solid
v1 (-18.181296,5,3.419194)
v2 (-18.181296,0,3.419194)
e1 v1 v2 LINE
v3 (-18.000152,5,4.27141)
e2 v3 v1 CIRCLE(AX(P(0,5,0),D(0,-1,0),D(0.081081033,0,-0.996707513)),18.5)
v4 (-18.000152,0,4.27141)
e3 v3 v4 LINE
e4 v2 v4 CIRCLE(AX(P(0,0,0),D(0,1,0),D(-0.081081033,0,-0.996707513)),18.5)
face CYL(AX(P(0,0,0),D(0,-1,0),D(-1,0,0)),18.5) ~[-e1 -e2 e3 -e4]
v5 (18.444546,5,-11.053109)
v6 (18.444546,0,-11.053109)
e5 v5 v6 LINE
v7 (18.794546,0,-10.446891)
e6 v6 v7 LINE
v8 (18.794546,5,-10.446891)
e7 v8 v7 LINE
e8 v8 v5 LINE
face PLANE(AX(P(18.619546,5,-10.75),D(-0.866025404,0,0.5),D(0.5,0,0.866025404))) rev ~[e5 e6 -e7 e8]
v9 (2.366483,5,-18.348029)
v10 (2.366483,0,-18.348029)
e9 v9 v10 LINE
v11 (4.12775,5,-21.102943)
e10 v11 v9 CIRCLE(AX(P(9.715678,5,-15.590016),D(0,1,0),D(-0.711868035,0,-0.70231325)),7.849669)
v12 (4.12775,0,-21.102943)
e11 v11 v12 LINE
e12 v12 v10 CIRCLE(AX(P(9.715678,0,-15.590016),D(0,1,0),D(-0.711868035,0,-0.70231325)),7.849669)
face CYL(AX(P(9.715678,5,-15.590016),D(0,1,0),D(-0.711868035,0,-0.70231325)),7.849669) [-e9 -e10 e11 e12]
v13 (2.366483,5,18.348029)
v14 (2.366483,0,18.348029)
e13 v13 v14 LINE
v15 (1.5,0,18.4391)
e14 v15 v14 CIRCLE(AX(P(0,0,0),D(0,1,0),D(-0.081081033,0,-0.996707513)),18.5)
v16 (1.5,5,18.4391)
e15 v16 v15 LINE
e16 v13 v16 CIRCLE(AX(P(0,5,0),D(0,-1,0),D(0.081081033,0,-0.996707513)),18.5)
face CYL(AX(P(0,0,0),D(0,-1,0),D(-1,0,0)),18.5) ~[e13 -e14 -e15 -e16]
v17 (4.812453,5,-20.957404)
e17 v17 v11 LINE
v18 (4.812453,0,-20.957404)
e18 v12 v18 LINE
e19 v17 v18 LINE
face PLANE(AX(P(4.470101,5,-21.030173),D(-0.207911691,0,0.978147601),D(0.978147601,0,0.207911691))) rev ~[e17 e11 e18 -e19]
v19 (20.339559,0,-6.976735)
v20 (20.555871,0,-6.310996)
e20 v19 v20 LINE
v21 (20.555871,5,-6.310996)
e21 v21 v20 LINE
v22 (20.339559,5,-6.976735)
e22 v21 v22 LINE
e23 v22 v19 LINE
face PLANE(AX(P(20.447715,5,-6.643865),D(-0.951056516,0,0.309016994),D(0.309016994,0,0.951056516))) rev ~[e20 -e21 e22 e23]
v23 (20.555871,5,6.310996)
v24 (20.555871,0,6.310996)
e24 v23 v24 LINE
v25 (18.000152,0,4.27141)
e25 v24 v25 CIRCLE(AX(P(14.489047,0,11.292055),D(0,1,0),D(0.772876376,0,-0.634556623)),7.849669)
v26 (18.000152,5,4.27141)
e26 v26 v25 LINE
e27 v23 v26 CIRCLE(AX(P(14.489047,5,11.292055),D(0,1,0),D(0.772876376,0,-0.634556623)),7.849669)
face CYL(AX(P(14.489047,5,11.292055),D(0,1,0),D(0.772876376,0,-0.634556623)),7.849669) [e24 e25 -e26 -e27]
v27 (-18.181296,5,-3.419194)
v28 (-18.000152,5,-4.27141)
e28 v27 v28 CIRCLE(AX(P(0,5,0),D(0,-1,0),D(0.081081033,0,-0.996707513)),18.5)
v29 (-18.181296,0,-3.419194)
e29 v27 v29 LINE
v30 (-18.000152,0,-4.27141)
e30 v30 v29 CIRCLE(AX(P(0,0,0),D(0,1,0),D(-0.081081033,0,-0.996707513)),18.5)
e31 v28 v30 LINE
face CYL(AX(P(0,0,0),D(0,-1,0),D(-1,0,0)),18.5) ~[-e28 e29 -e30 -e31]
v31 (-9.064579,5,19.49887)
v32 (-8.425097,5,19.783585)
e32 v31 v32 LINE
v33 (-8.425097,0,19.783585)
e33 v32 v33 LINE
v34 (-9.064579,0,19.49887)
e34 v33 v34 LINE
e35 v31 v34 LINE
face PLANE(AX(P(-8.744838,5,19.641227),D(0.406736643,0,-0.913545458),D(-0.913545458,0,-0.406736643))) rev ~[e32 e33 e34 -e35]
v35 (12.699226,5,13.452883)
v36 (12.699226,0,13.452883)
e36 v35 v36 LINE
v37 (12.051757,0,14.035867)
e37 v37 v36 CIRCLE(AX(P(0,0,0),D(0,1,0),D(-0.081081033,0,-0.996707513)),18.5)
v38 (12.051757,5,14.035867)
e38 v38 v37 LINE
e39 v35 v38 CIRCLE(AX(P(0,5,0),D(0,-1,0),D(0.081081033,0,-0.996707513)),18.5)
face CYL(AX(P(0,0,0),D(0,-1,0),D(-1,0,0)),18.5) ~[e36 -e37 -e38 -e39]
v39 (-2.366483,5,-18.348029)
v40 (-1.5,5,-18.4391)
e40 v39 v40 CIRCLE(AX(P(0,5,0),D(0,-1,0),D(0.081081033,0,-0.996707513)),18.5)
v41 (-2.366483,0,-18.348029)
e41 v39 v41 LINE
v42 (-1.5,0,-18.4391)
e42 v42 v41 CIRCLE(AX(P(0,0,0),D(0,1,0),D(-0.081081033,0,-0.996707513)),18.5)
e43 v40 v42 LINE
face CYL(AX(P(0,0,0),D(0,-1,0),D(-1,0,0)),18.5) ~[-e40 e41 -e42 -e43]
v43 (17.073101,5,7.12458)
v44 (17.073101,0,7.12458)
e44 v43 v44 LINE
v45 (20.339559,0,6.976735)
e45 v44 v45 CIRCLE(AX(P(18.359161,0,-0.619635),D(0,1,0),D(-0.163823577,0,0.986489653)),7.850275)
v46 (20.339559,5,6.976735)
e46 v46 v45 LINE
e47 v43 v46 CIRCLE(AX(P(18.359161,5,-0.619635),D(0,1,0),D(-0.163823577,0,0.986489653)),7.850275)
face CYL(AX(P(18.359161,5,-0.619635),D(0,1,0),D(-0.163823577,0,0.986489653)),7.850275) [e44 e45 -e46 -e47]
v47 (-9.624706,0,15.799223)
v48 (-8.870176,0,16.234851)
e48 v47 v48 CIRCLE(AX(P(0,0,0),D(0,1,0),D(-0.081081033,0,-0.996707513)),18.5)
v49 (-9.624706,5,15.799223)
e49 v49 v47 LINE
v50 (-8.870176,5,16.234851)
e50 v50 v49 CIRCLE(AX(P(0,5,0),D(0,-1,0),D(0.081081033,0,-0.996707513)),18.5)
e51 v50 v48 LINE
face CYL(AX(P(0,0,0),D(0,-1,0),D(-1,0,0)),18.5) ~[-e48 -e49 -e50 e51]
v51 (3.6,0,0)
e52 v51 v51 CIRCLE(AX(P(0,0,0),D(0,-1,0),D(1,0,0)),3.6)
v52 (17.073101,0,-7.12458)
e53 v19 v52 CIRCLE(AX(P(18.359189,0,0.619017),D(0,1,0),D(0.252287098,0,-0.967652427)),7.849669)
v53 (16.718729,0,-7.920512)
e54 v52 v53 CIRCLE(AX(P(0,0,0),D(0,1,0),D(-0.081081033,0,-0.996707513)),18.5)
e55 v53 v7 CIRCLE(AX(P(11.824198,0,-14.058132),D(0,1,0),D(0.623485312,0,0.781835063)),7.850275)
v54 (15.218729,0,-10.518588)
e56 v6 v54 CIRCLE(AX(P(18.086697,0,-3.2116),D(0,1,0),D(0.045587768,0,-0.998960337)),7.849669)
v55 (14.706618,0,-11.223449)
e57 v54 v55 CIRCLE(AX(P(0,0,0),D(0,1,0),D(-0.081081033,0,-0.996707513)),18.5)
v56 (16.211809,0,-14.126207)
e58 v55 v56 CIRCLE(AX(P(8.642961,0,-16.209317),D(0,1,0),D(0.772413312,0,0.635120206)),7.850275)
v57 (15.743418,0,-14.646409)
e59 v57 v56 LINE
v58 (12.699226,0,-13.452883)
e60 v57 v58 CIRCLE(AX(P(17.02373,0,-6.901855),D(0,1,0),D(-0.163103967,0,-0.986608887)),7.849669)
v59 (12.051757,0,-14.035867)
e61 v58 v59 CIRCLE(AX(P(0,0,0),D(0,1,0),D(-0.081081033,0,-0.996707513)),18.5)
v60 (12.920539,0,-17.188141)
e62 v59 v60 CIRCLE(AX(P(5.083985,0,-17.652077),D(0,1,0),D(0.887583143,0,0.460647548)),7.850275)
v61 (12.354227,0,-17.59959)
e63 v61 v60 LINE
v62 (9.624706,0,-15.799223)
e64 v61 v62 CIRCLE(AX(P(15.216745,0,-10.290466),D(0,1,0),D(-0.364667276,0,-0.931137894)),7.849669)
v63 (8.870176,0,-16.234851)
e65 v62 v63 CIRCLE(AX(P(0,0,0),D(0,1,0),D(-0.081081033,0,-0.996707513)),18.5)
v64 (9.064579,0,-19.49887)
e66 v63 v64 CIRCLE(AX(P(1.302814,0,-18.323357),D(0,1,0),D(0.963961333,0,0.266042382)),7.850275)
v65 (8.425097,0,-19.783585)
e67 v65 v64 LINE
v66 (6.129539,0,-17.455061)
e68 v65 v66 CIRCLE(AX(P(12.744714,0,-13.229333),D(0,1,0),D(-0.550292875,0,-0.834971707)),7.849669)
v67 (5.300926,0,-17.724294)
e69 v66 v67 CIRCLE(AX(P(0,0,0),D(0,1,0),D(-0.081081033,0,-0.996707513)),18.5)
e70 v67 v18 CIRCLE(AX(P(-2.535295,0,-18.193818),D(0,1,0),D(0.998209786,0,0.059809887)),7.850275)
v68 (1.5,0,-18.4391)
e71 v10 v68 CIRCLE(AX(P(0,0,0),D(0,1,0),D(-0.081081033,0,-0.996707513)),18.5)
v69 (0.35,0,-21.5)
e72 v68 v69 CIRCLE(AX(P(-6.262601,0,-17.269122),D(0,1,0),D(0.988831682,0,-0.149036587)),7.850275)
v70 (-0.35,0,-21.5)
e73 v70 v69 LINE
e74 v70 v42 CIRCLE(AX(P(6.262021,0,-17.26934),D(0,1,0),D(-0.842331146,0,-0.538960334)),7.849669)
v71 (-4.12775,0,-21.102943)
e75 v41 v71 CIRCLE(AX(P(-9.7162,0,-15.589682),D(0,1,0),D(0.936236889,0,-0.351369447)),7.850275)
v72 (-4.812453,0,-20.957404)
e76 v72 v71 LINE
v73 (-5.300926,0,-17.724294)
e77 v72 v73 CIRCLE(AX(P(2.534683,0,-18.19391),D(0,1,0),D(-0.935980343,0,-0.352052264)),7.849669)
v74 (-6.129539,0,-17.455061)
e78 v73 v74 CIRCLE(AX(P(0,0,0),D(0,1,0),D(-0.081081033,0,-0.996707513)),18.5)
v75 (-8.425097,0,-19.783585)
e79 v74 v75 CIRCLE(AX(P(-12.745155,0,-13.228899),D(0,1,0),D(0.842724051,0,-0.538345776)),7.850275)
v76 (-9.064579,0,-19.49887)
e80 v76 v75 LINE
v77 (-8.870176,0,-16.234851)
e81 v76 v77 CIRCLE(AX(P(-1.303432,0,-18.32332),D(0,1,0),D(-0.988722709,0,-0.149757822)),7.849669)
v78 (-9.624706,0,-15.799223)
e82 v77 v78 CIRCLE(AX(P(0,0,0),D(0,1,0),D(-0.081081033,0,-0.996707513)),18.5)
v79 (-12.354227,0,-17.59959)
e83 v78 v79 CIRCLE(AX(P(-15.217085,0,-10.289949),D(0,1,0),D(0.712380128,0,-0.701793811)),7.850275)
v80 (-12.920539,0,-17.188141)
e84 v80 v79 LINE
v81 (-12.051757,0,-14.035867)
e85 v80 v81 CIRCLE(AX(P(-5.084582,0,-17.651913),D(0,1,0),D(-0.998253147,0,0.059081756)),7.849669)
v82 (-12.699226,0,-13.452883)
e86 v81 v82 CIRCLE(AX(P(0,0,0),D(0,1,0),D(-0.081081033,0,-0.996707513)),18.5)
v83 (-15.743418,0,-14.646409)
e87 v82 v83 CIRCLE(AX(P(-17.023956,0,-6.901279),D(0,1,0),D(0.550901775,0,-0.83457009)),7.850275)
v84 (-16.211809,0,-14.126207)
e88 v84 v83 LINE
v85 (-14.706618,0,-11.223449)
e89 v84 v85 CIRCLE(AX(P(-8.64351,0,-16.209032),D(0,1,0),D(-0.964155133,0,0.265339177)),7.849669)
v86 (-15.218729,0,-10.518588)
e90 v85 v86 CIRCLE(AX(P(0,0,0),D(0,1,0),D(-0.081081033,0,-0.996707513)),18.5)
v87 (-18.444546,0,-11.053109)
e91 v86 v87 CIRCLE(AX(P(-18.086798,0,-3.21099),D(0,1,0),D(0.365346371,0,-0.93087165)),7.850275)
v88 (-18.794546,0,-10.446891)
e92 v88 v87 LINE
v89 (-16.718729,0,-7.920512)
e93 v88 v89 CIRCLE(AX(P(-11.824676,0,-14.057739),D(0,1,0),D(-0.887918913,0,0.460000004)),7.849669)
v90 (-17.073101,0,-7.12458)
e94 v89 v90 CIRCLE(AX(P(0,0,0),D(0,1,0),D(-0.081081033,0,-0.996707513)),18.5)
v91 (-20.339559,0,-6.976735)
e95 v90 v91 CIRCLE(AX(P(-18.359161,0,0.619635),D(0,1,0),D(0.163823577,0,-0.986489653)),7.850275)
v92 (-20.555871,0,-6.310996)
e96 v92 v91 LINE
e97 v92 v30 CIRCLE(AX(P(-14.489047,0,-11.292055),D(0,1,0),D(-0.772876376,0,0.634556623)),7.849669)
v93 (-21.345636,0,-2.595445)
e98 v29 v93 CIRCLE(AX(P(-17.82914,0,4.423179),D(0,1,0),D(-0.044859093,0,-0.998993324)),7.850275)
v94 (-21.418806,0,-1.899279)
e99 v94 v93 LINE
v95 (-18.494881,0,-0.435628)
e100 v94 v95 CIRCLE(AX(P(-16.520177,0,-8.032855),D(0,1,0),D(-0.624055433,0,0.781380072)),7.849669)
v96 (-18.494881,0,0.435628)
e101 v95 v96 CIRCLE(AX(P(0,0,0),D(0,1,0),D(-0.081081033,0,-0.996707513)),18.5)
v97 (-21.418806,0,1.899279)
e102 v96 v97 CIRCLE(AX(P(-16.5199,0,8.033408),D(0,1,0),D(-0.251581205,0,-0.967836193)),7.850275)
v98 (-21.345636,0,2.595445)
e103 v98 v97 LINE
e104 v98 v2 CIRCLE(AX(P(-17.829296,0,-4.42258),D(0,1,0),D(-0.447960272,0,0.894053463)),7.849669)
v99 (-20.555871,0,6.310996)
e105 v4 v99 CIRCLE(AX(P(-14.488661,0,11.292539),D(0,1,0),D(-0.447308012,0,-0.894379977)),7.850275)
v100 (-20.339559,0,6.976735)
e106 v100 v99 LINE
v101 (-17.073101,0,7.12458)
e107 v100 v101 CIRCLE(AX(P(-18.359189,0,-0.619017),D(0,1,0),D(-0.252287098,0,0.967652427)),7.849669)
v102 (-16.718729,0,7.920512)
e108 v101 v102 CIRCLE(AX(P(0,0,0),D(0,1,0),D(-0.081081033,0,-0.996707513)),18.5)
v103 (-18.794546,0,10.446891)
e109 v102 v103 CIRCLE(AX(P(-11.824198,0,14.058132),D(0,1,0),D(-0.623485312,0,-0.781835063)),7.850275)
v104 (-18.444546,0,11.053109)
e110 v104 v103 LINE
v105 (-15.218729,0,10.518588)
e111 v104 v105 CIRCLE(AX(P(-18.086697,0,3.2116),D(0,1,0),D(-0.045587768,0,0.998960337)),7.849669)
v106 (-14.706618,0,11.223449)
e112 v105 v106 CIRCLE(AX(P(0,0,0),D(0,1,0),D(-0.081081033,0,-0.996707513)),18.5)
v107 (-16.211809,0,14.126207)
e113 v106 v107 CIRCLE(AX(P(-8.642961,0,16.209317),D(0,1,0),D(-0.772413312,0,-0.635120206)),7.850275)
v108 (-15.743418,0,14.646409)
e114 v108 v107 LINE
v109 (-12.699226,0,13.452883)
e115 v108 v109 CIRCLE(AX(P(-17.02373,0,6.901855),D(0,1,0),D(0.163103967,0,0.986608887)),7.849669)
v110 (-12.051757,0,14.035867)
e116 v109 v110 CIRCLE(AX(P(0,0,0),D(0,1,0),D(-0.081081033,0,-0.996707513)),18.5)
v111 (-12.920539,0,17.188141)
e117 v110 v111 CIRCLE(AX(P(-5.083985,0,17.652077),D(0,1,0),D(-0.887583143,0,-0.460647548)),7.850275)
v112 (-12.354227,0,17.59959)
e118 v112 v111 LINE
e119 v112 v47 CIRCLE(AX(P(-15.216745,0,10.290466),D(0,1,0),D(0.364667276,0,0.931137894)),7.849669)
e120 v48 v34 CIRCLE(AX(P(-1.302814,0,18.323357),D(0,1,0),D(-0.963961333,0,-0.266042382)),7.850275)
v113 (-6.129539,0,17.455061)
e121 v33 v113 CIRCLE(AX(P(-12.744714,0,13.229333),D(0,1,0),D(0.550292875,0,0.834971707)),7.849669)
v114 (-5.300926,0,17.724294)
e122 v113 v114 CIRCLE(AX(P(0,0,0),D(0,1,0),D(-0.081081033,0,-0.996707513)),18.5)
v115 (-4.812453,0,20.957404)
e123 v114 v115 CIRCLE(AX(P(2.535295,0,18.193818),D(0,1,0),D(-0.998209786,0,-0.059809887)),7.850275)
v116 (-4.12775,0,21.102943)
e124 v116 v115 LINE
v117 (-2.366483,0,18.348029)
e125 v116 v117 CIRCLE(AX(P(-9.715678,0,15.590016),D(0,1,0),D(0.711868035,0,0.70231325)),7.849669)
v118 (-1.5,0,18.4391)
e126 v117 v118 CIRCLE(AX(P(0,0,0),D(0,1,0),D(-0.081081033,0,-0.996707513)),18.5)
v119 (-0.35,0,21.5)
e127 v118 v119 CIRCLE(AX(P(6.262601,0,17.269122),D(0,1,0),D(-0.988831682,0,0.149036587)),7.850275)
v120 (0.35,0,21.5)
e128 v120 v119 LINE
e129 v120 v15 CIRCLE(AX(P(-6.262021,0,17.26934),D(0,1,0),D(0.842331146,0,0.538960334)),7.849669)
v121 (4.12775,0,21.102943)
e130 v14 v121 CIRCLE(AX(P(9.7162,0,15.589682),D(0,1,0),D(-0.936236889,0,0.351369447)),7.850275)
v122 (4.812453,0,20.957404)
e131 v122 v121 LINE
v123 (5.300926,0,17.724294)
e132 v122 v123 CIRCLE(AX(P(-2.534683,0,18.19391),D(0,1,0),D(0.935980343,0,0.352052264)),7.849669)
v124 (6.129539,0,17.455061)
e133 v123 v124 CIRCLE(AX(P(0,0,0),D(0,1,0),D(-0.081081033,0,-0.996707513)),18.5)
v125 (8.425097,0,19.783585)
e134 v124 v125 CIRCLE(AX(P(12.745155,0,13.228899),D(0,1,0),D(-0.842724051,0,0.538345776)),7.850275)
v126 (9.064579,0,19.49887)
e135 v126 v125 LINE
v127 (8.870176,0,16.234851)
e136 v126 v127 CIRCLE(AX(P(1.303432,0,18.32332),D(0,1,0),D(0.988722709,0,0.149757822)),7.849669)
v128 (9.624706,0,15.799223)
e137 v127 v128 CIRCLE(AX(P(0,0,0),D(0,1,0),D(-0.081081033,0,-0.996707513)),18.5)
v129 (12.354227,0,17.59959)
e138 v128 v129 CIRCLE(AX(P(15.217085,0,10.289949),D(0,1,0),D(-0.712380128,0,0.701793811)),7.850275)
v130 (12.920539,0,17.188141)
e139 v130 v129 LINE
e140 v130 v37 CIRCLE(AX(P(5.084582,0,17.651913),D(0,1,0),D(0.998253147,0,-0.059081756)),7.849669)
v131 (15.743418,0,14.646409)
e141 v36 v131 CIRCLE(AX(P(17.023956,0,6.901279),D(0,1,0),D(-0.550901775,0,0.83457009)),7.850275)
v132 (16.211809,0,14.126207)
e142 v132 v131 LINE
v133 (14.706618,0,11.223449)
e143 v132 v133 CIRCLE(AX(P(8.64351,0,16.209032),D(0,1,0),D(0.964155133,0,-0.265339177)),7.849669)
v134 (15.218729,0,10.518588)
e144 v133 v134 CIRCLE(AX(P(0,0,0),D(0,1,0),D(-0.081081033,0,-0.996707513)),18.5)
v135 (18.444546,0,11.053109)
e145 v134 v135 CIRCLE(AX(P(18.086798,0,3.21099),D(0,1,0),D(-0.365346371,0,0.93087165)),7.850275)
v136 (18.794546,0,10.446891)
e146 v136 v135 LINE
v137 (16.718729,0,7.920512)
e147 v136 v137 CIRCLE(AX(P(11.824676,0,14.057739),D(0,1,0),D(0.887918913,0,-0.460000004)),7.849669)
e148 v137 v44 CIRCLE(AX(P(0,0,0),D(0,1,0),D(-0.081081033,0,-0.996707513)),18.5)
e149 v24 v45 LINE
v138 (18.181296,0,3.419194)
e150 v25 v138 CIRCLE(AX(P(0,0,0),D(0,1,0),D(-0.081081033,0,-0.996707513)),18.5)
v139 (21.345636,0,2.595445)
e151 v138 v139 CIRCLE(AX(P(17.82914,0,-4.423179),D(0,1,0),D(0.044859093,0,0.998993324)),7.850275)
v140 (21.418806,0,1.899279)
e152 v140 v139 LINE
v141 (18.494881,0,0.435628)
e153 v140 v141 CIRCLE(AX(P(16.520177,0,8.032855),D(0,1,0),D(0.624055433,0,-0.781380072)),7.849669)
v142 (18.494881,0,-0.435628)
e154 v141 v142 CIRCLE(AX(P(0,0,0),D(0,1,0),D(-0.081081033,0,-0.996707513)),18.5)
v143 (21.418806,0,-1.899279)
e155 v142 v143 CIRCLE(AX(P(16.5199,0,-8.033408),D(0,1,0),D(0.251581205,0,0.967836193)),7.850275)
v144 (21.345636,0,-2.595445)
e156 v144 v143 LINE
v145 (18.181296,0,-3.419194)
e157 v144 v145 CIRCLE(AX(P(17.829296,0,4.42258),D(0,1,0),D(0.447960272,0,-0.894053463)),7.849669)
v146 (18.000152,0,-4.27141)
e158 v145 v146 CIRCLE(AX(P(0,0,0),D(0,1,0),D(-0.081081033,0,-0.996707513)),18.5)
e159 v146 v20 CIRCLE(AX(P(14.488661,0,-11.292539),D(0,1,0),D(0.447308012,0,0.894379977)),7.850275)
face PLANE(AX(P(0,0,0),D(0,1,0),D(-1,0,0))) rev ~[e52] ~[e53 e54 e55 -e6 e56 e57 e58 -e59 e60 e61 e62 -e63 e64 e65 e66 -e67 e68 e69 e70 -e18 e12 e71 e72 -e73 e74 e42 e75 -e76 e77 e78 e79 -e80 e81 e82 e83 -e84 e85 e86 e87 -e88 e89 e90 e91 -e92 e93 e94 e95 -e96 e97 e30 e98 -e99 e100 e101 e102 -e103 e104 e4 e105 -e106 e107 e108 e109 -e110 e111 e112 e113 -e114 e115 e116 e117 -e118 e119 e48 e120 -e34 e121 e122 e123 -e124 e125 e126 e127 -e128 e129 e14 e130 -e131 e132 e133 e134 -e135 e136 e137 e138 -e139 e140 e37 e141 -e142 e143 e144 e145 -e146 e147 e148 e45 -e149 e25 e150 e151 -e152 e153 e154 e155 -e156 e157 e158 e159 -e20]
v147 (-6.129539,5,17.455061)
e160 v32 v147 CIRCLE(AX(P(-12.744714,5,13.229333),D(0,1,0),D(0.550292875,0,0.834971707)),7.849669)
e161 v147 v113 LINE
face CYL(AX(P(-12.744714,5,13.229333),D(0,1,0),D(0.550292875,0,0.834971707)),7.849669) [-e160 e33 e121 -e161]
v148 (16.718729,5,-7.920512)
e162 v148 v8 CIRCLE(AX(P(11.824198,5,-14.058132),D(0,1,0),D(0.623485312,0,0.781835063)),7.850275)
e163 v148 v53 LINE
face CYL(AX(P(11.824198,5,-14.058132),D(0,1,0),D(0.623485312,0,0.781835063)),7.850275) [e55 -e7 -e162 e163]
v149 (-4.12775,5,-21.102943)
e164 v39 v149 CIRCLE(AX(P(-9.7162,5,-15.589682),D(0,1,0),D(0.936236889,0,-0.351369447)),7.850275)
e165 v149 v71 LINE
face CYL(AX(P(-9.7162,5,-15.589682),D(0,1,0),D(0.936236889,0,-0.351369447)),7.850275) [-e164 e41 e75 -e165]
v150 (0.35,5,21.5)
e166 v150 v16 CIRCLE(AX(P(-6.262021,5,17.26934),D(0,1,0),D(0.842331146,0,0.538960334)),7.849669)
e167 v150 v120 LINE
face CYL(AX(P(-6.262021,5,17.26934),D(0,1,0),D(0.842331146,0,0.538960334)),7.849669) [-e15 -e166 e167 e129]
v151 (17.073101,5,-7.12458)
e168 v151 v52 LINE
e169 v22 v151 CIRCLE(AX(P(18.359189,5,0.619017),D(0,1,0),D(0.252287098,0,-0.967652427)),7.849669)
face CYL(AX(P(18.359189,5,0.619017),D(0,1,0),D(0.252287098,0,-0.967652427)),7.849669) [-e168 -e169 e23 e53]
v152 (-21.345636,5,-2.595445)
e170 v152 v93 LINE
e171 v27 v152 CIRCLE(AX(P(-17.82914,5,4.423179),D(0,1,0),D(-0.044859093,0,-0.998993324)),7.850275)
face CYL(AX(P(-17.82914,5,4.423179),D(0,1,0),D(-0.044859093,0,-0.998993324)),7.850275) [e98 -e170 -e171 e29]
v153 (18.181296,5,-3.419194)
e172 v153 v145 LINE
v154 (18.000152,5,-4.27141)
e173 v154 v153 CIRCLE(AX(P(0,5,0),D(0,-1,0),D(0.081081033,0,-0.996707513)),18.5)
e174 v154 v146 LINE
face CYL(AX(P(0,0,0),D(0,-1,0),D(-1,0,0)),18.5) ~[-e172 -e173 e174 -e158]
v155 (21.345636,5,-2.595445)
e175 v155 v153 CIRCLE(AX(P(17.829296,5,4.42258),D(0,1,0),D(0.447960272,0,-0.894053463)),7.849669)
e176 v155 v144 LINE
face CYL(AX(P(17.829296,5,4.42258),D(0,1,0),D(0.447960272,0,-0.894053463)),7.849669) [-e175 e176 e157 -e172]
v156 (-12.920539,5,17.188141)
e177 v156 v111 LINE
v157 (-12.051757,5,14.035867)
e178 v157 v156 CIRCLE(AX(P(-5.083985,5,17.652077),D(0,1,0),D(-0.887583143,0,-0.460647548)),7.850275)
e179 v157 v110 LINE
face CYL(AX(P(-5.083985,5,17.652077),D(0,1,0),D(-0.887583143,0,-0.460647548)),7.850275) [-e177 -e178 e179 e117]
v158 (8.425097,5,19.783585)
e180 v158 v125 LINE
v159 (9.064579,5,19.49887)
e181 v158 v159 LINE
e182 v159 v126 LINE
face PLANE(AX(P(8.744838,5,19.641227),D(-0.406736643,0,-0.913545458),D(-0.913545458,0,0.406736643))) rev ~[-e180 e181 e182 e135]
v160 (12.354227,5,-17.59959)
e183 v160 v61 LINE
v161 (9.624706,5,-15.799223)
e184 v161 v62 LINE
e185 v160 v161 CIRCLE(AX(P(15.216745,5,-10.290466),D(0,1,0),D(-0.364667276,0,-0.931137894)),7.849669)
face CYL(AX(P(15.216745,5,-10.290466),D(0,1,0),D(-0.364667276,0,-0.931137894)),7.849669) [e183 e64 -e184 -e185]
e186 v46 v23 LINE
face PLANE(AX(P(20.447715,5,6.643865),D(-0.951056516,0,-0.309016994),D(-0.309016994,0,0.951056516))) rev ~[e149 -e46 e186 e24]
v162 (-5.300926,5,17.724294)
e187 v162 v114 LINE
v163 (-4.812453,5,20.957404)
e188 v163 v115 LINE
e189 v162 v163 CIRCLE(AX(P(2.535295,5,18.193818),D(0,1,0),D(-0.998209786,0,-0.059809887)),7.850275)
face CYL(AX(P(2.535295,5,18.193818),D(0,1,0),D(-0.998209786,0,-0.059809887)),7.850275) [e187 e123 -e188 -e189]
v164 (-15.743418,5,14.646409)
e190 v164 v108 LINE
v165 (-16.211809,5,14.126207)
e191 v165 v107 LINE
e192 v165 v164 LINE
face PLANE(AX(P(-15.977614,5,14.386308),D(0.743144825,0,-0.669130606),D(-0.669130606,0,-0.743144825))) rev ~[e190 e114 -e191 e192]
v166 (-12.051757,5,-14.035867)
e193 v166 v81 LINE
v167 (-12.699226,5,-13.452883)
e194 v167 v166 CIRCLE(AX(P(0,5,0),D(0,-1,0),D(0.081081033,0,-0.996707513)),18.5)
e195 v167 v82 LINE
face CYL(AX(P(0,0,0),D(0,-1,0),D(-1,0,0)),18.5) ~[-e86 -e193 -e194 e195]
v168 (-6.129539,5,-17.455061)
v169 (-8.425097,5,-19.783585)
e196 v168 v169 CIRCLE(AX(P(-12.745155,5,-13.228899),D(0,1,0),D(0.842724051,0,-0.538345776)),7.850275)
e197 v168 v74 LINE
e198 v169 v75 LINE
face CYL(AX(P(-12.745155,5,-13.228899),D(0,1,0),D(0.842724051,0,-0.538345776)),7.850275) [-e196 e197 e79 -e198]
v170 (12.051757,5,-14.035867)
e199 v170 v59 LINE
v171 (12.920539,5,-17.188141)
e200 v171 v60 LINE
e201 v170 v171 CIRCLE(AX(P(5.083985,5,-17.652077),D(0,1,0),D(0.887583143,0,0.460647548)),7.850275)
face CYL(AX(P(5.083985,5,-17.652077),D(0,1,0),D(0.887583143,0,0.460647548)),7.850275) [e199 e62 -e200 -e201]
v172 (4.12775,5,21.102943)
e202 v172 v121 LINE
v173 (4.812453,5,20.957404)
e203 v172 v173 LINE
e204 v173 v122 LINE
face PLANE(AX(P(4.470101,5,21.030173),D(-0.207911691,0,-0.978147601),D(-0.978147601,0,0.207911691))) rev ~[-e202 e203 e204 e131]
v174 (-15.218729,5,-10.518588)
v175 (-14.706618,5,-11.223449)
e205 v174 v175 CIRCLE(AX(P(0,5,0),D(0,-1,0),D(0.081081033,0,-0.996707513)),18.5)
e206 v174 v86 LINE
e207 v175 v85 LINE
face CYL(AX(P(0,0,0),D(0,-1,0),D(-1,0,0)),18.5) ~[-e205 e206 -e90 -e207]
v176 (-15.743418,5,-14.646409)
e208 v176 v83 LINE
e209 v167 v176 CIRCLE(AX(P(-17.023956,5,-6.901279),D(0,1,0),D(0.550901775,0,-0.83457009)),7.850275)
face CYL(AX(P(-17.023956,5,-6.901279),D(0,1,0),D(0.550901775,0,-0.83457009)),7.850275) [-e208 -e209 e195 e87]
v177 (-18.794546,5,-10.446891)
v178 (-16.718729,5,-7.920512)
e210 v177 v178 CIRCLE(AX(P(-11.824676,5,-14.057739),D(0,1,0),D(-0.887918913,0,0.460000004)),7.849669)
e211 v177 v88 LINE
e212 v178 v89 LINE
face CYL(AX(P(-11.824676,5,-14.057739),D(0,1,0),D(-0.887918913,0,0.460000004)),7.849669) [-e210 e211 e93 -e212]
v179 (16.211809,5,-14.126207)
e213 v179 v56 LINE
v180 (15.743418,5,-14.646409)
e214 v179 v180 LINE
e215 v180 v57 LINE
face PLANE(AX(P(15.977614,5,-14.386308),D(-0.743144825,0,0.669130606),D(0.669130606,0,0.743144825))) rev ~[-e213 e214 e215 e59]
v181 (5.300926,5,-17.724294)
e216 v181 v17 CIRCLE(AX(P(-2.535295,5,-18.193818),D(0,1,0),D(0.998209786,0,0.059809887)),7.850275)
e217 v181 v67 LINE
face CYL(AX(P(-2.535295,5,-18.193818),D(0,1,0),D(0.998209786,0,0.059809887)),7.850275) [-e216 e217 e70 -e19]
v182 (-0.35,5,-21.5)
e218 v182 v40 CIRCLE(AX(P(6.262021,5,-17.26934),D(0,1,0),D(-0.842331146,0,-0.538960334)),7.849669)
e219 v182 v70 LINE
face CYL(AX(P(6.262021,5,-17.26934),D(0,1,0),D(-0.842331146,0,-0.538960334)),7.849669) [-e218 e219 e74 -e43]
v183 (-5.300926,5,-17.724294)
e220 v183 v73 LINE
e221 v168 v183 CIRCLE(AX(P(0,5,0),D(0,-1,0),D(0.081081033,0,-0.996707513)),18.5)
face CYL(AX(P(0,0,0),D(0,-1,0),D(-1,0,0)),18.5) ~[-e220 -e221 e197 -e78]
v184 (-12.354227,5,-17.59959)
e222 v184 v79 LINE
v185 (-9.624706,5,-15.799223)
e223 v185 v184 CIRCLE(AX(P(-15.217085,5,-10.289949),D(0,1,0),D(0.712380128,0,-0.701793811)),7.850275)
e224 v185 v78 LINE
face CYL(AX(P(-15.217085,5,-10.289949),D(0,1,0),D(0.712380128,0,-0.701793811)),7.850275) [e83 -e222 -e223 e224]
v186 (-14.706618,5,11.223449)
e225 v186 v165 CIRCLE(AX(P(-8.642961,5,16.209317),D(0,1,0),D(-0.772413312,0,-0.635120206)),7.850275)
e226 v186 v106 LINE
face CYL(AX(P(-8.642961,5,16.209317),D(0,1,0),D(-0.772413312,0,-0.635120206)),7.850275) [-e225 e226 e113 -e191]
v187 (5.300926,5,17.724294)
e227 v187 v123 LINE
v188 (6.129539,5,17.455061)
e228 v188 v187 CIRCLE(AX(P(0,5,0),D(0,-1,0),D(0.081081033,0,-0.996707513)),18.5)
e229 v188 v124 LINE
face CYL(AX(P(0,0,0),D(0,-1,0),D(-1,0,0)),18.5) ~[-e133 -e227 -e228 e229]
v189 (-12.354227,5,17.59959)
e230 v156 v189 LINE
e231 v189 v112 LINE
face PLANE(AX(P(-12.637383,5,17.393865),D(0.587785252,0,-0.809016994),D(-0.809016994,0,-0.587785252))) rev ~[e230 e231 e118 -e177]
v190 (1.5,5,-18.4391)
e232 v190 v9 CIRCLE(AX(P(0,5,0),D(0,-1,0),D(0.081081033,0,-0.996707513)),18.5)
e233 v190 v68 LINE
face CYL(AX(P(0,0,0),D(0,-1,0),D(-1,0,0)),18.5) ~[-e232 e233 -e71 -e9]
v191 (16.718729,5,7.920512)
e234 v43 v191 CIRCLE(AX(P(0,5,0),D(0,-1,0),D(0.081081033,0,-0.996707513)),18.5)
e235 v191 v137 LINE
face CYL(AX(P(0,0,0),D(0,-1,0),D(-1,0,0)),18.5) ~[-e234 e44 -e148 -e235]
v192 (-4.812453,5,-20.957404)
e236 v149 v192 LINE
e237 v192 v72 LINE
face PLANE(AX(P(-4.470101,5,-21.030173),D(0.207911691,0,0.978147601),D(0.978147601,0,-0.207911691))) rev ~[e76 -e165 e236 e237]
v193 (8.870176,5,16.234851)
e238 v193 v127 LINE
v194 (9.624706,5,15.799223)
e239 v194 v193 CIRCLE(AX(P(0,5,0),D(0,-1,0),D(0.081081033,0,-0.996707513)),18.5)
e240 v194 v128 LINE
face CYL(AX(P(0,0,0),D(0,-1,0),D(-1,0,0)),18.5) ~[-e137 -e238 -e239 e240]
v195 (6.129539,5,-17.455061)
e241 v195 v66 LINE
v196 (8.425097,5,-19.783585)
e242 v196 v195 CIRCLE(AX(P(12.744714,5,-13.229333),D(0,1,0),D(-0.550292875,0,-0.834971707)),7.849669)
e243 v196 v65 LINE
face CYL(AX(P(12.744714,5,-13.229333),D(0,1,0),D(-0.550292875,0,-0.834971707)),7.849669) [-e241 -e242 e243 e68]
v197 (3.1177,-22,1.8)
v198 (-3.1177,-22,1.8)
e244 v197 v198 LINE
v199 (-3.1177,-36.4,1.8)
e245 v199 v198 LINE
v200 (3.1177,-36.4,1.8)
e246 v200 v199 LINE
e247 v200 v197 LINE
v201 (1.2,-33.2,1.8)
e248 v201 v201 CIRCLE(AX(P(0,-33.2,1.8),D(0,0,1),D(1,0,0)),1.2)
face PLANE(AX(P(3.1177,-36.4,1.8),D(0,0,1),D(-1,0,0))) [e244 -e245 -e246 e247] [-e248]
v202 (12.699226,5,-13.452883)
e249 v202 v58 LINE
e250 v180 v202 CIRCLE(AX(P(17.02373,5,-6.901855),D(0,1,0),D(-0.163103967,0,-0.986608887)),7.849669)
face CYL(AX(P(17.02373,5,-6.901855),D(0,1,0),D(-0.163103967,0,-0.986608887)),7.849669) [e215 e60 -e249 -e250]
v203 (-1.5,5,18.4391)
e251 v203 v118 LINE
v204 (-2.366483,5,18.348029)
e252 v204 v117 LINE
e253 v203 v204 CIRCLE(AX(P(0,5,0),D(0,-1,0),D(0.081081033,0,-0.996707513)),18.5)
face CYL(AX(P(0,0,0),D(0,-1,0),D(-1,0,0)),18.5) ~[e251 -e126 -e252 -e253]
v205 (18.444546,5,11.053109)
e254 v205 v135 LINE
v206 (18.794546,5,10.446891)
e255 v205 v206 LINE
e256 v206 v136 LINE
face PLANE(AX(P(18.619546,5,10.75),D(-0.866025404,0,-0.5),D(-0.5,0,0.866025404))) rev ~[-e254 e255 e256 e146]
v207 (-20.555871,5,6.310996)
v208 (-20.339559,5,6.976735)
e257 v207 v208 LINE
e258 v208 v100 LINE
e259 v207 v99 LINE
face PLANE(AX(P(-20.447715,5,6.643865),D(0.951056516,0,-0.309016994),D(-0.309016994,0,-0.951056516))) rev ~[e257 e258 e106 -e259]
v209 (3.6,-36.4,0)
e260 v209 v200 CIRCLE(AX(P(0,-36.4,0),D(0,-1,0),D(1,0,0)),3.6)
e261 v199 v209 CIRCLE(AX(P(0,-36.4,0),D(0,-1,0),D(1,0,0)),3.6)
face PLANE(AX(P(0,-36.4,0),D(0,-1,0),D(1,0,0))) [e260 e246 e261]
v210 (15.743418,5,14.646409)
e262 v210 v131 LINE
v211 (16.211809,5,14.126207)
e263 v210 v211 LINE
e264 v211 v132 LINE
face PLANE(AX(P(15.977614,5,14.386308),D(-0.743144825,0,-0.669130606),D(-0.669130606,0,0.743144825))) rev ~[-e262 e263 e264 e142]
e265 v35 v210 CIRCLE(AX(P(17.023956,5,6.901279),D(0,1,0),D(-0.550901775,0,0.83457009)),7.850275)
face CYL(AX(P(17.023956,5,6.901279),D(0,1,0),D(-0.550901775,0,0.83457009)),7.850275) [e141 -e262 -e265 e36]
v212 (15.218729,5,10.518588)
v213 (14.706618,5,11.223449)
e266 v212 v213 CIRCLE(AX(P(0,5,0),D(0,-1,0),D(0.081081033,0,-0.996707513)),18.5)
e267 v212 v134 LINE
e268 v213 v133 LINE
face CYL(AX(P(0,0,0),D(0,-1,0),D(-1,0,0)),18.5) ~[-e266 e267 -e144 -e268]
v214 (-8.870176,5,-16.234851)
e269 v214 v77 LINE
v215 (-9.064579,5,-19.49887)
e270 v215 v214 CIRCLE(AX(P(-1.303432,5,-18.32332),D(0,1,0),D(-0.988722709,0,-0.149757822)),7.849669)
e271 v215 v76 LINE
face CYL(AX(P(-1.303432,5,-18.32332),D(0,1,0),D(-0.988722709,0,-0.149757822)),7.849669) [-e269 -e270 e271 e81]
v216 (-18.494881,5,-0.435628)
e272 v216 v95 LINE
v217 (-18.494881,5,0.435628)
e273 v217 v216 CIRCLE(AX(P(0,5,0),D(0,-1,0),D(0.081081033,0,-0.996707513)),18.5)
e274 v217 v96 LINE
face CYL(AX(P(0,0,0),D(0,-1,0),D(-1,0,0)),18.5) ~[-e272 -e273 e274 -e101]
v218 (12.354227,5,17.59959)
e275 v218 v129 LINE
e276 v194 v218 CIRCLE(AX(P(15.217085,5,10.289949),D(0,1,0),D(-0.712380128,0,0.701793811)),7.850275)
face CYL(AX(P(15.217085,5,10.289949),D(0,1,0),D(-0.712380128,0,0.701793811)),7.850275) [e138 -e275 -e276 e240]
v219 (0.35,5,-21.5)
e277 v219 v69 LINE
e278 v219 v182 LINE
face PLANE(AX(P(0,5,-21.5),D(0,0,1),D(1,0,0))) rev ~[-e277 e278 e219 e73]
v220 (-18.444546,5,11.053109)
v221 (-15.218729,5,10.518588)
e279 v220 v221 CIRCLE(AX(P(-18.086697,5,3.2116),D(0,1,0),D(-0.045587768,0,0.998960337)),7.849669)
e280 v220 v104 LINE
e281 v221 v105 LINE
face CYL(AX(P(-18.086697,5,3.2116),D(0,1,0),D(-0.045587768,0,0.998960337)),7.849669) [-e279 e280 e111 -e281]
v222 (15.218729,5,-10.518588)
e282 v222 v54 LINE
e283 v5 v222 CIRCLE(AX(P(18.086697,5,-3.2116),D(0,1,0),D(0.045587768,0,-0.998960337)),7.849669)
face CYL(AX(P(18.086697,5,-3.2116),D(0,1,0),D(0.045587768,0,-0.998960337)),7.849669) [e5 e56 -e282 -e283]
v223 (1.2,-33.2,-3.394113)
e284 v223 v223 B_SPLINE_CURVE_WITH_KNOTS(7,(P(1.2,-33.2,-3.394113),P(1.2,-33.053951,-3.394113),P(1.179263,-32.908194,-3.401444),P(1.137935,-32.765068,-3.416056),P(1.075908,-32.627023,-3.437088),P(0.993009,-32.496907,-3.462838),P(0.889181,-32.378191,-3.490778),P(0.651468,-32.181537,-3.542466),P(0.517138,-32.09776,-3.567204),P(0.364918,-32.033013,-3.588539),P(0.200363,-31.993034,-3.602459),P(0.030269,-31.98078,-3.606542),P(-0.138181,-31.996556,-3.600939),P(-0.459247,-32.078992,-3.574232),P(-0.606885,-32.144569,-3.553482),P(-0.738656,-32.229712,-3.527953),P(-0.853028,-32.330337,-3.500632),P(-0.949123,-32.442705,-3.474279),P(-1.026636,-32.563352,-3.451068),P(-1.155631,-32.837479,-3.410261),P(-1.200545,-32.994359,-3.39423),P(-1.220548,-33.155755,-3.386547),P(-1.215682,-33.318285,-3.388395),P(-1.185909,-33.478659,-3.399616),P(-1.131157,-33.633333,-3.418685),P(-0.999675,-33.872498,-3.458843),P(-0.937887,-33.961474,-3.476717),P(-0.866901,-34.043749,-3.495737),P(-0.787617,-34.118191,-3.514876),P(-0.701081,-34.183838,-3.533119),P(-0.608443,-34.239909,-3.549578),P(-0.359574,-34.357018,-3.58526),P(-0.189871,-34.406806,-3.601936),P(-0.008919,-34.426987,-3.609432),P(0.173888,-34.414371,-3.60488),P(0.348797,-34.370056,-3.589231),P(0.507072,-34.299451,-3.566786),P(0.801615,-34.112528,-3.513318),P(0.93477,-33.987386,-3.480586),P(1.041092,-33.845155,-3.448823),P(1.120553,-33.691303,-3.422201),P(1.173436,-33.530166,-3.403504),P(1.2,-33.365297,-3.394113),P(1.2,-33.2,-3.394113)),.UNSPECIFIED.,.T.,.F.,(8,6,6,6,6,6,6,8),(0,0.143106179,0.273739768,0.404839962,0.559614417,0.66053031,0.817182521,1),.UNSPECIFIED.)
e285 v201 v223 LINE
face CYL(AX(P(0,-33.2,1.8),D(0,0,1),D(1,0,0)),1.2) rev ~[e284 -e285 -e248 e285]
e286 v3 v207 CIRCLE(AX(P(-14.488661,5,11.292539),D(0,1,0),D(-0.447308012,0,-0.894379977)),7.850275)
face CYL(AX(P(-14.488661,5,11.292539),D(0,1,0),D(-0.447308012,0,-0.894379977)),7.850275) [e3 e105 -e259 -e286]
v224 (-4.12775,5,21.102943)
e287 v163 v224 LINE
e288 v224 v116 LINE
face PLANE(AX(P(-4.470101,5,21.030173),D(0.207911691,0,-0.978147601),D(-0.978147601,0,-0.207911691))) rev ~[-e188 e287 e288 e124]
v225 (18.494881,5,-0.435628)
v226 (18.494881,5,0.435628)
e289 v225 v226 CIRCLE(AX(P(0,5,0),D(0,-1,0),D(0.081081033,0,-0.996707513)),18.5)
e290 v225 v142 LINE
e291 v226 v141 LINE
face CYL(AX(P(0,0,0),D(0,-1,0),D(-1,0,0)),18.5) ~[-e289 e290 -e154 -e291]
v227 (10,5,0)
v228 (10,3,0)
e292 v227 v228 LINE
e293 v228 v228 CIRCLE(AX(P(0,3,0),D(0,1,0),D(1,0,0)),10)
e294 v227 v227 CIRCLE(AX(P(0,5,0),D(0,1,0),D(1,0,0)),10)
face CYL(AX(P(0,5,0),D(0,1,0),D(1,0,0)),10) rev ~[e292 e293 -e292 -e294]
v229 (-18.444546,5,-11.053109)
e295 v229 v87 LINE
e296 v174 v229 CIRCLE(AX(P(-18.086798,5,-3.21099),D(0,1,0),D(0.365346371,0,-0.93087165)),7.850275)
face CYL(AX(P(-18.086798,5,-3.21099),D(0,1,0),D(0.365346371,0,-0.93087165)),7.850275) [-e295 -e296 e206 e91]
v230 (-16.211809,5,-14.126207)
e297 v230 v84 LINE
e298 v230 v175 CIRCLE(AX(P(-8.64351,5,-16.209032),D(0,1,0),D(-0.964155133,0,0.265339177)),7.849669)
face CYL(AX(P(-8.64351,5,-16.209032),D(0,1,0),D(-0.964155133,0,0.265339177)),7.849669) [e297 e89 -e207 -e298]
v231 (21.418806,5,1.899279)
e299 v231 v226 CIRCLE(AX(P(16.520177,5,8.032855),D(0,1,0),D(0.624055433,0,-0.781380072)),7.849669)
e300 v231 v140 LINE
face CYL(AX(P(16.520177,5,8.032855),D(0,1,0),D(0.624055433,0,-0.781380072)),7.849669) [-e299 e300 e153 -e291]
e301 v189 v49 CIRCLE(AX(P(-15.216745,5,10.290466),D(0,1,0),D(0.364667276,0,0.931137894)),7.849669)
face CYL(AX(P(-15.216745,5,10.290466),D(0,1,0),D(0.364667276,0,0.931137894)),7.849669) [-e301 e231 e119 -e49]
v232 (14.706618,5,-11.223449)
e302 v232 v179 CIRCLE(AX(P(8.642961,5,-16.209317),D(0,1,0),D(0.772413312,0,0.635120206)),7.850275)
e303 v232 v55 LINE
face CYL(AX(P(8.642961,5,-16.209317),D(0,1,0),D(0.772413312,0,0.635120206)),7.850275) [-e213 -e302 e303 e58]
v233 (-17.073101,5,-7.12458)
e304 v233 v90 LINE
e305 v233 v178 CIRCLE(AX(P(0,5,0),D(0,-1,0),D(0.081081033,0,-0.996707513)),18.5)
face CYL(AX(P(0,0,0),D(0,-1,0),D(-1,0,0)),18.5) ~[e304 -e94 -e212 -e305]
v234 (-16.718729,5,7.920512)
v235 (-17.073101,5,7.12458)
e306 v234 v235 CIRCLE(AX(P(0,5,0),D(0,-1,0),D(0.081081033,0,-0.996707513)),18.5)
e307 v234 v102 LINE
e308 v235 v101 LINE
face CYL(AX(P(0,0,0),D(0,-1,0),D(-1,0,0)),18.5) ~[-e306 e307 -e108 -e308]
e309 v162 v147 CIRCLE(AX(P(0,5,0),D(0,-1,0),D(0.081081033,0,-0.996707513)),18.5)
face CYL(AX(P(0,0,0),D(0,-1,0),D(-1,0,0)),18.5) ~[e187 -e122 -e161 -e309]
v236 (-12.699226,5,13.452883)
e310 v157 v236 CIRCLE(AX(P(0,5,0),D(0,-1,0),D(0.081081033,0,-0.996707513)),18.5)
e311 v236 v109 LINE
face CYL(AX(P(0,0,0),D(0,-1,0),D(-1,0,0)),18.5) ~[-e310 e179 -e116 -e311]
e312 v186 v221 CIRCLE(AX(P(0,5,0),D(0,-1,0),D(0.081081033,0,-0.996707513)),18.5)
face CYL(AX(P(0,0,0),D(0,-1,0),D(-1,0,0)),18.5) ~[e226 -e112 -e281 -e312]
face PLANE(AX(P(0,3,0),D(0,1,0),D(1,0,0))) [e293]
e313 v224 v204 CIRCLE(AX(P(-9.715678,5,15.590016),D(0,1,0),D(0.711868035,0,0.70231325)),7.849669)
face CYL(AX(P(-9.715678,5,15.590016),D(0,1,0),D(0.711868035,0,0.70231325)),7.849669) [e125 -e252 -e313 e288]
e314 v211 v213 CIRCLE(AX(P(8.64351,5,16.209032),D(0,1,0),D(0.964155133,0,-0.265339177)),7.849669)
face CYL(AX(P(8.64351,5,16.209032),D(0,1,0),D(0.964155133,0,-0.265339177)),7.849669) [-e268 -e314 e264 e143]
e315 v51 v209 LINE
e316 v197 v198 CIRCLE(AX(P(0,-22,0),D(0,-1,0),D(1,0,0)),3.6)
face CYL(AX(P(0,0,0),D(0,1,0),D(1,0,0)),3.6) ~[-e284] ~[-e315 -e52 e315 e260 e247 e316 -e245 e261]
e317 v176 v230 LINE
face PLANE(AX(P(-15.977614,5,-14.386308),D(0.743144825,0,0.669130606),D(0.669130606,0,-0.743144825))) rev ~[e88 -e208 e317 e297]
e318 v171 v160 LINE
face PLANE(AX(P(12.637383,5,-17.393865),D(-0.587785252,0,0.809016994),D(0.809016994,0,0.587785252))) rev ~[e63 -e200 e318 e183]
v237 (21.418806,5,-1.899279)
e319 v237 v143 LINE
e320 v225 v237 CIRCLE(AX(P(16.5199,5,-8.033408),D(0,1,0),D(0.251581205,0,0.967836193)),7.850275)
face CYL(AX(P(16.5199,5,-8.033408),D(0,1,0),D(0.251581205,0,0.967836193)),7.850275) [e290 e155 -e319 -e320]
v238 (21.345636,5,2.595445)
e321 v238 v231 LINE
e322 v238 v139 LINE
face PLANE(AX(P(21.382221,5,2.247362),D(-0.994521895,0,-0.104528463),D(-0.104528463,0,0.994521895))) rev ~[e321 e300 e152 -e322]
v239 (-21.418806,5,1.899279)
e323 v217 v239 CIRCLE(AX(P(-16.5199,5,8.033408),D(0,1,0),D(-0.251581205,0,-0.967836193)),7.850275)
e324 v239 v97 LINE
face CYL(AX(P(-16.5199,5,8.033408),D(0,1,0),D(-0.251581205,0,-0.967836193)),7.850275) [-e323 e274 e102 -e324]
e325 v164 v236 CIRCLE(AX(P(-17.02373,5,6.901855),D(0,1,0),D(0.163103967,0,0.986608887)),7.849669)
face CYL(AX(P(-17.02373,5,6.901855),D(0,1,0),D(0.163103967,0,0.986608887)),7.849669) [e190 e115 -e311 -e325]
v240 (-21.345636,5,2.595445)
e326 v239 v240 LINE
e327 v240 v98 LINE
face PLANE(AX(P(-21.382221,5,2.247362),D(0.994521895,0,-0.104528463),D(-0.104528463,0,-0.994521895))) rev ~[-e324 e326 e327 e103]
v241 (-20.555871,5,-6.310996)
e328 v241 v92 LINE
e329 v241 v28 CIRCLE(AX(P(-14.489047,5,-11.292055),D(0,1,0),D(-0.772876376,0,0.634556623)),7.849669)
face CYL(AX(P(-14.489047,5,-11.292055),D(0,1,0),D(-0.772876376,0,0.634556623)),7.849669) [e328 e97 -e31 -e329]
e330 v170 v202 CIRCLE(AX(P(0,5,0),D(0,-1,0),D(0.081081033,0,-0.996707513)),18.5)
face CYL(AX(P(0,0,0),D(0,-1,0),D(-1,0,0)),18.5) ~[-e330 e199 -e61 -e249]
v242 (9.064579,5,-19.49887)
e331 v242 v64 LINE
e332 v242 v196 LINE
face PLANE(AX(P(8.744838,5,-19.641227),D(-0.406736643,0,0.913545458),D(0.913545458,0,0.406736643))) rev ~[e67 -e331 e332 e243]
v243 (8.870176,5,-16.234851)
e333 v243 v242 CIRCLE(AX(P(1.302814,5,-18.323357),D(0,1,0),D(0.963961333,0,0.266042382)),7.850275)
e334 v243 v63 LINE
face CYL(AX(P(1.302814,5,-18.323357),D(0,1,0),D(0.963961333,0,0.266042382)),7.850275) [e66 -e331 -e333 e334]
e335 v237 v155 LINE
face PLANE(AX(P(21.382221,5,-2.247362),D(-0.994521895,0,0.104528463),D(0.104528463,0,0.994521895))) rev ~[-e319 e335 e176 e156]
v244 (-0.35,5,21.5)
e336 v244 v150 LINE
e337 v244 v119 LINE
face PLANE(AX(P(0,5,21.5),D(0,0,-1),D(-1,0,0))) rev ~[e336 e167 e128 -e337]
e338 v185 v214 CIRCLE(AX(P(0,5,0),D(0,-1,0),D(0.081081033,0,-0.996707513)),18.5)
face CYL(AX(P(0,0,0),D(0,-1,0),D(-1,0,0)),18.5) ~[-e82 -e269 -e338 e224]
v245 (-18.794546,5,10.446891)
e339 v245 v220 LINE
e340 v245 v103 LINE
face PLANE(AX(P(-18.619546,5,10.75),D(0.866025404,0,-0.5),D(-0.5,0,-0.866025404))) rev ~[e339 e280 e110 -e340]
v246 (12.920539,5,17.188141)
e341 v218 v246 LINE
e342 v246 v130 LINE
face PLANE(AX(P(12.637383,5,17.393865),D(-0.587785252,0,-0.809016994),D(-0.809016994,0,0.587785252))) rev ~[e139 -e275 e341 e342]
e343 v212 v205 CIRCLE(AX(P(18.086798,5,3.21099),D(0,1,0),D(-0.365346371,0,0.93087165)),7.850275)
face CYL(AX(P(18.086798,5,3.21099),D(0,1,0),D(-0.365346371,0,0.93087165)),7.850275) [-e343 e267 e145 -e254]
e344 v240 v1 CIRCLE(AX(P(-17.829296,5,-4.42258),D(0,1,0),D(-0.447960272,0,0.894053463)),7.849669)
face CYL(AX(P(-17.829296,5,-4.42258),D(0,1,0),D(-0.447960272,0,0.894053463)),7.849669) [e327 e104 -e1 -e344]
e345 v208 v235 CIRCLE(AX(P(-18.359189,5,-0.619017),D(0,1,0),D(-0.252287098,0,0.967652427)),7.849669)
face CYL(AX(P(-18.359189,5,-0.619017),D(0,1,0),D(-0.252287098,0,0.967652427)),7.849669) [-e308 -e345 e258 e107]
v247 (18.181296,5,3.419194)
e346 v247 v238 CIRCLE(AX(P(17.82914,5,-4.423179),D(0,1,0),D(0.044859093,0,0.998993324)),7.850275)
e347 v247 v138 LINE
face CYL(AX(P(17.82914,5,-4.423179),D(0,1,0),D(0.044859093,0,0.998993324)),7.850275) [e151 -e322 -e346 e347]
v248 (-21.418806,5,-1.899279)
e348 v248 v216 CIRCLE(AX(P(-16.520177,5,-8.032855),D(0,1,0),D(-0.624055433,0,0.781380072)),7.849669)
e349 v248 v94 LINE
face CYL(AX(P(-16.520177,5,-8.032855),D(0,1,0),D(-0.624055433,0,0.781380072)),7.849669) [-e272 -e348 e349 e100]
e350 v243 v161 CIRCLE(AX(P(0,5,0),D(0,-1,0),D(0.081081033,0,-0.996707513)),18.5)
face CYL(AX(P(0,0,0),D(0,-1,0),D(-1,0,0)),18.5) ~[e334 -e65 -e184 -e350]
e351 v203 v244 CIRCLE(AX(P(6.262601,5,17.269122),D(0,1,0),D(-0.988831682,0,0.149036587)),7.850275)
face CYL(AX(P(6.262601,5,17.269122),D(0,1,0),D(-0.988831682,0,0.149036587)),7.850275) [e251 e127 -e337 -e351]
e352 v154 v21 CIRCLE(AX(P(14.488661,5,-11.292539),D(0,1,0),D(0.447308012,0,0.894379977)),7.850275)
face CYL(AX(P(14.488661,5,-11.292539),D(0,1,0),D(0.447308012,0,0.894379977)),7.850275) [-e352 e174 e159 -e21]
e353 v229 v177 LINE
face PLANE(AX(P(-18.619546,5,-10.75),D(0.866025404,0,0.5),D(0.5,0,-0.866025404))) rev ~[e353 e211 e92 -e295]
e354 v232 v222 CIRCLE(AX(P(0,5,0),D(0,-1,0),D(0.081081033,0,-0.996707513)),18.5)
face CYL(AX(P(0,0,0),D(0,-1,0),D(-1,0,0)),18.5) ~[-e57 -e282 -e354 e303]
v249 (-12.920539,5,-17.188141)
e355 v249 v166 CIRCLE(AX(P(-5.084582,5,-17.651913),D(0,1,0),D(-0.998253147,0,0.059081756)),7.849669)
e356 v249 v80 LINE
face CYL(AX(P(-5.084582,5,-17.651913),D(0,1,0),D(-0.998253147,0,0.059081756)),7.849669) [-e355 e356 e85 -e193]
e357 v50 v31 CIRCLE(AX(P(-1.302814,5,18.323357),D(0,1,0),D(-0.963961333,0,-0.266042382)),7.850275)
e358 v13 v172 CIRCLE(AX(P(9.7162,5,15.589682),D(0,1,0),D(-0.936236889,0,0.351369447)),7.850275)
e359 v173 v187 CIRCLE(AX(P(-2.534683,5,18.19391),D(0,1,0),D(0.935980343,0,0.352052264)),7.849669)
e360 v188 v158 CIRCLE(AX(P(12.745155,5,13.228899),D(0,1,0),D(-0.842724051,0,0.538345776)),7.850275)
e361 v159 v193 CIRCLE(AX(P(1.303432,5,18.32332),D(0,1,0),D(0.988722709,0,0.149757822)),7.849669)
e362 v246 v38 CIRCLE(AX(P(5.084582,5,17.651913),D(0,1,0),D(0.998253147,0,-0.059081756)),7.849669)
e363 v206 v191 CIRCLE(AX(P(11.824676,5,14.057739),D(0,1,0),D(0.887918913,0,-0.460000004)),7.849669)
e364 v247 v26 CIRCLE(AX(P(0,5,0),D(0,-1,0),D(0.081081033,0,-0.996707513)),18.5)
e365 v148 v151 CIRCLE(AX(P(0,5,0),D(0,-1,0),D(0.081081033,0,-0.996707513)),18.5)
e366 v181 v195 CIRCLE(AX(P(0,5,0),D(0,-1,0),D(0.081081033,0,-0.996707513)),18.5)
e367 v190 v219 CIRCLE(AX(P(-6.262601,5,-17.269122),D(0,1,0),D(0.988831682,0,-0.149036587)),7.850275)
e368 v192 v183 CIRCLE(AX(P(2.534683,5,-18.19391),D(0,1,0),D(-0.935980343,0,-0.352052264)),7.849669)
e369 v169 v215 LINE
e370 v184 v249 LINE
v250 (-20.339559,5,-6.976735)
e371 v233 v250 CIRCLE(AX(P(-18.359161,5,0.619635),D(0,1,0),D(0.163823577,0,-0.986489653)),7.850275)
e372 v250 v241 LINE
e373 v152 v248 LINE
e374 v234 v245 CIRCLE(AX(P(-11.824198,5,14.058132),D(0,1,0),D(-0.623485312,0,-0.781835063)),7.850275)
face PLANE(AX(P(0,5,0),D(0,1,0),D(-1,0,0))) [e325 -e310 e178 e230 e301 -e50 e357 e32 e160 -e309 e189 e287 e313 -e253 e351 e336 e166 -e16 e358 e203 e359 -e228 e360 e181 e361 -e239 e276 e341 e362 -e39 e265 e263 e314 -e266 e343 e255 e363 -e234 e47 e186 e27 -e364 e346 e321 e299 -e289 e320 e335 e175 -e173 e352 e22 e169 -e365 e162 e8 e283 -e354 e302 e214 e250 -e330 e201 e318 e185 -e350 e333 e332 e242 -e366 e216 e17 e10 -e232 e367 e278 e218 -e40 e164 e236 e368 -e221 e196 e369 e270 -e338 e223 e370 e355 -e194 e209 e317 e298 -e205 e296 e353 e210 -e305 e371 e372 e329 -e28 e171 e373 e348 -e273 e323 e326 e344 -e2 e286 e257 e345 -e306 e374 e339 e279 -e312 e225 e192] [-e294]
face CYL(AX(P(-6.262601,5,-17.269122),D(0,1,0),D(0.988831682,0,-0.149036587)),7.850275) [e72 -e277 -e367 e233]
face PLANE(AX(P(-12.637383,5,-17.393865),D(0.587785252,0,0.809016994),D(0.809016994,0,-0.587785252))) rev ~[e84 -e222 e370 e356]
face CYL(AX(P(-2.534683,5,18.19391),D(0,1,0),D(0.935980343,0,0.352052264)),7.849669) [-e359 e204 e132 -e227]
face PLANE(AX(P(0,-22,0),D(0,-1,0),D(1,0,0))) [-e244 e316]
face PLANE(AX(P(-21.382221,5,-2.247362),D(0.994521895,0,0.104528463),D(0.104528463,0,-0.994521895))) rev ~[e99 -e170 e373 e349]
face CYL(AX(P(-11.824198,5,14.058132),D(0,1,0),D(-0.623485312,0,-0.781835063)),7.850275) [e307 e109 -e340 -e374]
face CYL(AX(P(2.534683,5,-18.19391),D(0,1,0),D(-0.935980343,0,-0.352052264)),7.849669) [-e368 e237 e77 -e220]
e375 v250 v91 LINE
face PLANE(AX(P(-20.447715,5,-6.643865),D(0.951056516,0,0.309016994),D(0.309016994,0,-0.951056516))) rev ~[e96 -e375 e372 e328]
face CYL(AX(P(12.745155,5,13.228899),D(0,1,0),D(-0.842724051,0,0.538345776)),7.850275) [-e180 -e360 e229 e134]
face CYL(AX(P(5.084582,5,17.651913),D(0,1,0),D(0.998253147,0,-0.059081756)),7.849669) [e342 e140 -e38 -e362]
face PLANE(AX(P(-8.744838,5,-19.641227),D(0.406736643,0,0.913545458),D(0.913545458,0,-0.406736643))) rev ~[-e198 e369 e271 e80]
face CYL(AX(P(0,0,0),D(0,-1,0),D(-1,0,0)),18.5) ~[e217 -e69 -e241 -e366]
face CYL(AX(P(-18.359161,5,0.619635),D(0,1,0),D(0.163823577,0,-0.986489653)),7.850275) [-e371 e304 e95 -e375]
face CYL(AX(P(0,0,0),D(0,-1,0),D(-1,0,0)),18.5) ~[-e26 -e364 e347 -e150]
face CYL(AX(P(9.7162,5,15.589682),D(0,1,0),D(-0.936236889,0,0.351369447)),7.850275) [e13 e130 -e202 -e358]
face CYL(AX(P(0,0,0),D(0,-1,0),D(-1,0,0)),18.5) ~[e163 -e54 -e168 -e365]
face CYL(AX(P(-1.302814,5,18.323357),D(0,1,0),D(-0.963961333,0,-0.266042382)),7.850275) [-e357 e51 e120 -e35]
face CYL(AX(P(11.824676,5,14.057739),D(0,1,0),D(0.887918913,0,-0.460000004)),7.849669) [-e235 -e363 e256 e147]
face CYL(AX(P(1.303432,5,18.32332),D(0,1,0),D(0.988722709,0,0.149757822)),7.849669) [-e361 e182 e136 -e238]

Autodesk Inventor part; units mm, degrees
ref_plane "YZ Plane" through (0, 0, 0) normal (1, 0, 0) x (0, 1, 0)
ref_plane "XZ Plane" through (0, 0, 0) normal (0, 1, 0) x (-1, 0, 0)
ref_plane "XY Plane" through (0, 0, 0) normal (0, 0, 1) x (1, 0, 0)
sketch "Sketch1" plane through (0, 0, 0) normal (0, 1, 0) x (-1, 0, 0)
  circle A0 centre (0, 0) radius 18.5
  dimension "d0" = 37
extrude "Extrusion1" add sketch "Sketch1" along normal blind 5
sketch "Sketch2" plane through (0, 5, 0) normal (0, 1, 0) x (1, 0, 0)
  circle A0 centre (0, 0) radius 18.5 projected
  line L0 (-0.35, 21.5) -> (0.35, 21.5)
  line L1 (0, 29.5757) -> (0, -26.5304) projected
  arc A1 (-0.35, 21.5) -> (-1.5, 18.4391) centre (6.2621, 17.2693) ccw
  arc A2 (1.5, 18.4391) -> (0.35, 21.5) centre (-6.2623, 17.2692) ccw
  arc A3 (1.5, 18.4391) -> (0, -18.5) centre (0, 0) ccw
  point P0 (0, 18.5)
  dimension "d4" = 0.7
  dimension "d5" = 0.35
  dimension "d6" = 3
  dimension "d7" = 7.8498
  dimension "d8" = 7.85
extrude "Extrusion2" add sketch "Sketch2" against normal up to surface (5 mm away) contours A0 L1 L0 A2 | A0 A1 L0 L1
pattern_circular "Circular Pattern1" count 30 over 360 about axis through (0, -10, 0) along (0, 1, 0) of "Extrusion2"
sketch "Sketch4" plane through (0, 5, 0) normal (0, 1, 0) x (1, 0, 0)
  arc A0 (2.3665, 18.348) -> (1.5, 18.4391) centre (0, 0) ccw projected
  circle A1 centre (0, 0) radius 10
  dimension "d14" = 20
extrude "Extrusion3" cut sketch "Sketch4" against normal blind 2
sketch "Sketch5" plane through (0, 0, 0) normal (0, -1, 0) x (1, 0, 0)
  arc A0 (-2.3665, -18.348) -> (-1.5, -18.4391) centre (0, 0) ccw projected
  circle A1 centre (0, 0) radius 3.6
  dimension "d17" = 7.2
extrude "Extrusion4" add sketch "Sketch5" along normal blind 36.4
sketch "Sketch6" plane through (0, -36.4, 0) normal (0, -1, 0) x (1, 0, 0)
  circle A0 centre (0, 0) radius 3.6 projected
  line L0 (3.1177, 1.8) -> (-3.1177, 1.8)
  arc A1 (3.1177, 1.8) -> (-3.1177, 1.8) centre (0, 0) ccw
  dimension "d20" = 1.8
extrude "Extrusion5" cut sketch "Sketch6" against normal blind 14.4 contours L0 A0 picked at (-0.8728, 2.0235)
sketch "Sketch7" plane through (-3.1177, -36.4, 1.8) normal (0, 0, 1) x (1, 0, 0)
  line L0 (6.2354, 0) -> (0, 0) projected
  circle A0 centre (3.1177, 3.2) radius 1.2
  point P0 (3.1177, 36.4)
  dimension "d23" = 2.4
  dimension "d24" = 3.2
extrude "Extrusion6" cut sketch "Sketch7" against normal through all
properties part number "Front Gear"
